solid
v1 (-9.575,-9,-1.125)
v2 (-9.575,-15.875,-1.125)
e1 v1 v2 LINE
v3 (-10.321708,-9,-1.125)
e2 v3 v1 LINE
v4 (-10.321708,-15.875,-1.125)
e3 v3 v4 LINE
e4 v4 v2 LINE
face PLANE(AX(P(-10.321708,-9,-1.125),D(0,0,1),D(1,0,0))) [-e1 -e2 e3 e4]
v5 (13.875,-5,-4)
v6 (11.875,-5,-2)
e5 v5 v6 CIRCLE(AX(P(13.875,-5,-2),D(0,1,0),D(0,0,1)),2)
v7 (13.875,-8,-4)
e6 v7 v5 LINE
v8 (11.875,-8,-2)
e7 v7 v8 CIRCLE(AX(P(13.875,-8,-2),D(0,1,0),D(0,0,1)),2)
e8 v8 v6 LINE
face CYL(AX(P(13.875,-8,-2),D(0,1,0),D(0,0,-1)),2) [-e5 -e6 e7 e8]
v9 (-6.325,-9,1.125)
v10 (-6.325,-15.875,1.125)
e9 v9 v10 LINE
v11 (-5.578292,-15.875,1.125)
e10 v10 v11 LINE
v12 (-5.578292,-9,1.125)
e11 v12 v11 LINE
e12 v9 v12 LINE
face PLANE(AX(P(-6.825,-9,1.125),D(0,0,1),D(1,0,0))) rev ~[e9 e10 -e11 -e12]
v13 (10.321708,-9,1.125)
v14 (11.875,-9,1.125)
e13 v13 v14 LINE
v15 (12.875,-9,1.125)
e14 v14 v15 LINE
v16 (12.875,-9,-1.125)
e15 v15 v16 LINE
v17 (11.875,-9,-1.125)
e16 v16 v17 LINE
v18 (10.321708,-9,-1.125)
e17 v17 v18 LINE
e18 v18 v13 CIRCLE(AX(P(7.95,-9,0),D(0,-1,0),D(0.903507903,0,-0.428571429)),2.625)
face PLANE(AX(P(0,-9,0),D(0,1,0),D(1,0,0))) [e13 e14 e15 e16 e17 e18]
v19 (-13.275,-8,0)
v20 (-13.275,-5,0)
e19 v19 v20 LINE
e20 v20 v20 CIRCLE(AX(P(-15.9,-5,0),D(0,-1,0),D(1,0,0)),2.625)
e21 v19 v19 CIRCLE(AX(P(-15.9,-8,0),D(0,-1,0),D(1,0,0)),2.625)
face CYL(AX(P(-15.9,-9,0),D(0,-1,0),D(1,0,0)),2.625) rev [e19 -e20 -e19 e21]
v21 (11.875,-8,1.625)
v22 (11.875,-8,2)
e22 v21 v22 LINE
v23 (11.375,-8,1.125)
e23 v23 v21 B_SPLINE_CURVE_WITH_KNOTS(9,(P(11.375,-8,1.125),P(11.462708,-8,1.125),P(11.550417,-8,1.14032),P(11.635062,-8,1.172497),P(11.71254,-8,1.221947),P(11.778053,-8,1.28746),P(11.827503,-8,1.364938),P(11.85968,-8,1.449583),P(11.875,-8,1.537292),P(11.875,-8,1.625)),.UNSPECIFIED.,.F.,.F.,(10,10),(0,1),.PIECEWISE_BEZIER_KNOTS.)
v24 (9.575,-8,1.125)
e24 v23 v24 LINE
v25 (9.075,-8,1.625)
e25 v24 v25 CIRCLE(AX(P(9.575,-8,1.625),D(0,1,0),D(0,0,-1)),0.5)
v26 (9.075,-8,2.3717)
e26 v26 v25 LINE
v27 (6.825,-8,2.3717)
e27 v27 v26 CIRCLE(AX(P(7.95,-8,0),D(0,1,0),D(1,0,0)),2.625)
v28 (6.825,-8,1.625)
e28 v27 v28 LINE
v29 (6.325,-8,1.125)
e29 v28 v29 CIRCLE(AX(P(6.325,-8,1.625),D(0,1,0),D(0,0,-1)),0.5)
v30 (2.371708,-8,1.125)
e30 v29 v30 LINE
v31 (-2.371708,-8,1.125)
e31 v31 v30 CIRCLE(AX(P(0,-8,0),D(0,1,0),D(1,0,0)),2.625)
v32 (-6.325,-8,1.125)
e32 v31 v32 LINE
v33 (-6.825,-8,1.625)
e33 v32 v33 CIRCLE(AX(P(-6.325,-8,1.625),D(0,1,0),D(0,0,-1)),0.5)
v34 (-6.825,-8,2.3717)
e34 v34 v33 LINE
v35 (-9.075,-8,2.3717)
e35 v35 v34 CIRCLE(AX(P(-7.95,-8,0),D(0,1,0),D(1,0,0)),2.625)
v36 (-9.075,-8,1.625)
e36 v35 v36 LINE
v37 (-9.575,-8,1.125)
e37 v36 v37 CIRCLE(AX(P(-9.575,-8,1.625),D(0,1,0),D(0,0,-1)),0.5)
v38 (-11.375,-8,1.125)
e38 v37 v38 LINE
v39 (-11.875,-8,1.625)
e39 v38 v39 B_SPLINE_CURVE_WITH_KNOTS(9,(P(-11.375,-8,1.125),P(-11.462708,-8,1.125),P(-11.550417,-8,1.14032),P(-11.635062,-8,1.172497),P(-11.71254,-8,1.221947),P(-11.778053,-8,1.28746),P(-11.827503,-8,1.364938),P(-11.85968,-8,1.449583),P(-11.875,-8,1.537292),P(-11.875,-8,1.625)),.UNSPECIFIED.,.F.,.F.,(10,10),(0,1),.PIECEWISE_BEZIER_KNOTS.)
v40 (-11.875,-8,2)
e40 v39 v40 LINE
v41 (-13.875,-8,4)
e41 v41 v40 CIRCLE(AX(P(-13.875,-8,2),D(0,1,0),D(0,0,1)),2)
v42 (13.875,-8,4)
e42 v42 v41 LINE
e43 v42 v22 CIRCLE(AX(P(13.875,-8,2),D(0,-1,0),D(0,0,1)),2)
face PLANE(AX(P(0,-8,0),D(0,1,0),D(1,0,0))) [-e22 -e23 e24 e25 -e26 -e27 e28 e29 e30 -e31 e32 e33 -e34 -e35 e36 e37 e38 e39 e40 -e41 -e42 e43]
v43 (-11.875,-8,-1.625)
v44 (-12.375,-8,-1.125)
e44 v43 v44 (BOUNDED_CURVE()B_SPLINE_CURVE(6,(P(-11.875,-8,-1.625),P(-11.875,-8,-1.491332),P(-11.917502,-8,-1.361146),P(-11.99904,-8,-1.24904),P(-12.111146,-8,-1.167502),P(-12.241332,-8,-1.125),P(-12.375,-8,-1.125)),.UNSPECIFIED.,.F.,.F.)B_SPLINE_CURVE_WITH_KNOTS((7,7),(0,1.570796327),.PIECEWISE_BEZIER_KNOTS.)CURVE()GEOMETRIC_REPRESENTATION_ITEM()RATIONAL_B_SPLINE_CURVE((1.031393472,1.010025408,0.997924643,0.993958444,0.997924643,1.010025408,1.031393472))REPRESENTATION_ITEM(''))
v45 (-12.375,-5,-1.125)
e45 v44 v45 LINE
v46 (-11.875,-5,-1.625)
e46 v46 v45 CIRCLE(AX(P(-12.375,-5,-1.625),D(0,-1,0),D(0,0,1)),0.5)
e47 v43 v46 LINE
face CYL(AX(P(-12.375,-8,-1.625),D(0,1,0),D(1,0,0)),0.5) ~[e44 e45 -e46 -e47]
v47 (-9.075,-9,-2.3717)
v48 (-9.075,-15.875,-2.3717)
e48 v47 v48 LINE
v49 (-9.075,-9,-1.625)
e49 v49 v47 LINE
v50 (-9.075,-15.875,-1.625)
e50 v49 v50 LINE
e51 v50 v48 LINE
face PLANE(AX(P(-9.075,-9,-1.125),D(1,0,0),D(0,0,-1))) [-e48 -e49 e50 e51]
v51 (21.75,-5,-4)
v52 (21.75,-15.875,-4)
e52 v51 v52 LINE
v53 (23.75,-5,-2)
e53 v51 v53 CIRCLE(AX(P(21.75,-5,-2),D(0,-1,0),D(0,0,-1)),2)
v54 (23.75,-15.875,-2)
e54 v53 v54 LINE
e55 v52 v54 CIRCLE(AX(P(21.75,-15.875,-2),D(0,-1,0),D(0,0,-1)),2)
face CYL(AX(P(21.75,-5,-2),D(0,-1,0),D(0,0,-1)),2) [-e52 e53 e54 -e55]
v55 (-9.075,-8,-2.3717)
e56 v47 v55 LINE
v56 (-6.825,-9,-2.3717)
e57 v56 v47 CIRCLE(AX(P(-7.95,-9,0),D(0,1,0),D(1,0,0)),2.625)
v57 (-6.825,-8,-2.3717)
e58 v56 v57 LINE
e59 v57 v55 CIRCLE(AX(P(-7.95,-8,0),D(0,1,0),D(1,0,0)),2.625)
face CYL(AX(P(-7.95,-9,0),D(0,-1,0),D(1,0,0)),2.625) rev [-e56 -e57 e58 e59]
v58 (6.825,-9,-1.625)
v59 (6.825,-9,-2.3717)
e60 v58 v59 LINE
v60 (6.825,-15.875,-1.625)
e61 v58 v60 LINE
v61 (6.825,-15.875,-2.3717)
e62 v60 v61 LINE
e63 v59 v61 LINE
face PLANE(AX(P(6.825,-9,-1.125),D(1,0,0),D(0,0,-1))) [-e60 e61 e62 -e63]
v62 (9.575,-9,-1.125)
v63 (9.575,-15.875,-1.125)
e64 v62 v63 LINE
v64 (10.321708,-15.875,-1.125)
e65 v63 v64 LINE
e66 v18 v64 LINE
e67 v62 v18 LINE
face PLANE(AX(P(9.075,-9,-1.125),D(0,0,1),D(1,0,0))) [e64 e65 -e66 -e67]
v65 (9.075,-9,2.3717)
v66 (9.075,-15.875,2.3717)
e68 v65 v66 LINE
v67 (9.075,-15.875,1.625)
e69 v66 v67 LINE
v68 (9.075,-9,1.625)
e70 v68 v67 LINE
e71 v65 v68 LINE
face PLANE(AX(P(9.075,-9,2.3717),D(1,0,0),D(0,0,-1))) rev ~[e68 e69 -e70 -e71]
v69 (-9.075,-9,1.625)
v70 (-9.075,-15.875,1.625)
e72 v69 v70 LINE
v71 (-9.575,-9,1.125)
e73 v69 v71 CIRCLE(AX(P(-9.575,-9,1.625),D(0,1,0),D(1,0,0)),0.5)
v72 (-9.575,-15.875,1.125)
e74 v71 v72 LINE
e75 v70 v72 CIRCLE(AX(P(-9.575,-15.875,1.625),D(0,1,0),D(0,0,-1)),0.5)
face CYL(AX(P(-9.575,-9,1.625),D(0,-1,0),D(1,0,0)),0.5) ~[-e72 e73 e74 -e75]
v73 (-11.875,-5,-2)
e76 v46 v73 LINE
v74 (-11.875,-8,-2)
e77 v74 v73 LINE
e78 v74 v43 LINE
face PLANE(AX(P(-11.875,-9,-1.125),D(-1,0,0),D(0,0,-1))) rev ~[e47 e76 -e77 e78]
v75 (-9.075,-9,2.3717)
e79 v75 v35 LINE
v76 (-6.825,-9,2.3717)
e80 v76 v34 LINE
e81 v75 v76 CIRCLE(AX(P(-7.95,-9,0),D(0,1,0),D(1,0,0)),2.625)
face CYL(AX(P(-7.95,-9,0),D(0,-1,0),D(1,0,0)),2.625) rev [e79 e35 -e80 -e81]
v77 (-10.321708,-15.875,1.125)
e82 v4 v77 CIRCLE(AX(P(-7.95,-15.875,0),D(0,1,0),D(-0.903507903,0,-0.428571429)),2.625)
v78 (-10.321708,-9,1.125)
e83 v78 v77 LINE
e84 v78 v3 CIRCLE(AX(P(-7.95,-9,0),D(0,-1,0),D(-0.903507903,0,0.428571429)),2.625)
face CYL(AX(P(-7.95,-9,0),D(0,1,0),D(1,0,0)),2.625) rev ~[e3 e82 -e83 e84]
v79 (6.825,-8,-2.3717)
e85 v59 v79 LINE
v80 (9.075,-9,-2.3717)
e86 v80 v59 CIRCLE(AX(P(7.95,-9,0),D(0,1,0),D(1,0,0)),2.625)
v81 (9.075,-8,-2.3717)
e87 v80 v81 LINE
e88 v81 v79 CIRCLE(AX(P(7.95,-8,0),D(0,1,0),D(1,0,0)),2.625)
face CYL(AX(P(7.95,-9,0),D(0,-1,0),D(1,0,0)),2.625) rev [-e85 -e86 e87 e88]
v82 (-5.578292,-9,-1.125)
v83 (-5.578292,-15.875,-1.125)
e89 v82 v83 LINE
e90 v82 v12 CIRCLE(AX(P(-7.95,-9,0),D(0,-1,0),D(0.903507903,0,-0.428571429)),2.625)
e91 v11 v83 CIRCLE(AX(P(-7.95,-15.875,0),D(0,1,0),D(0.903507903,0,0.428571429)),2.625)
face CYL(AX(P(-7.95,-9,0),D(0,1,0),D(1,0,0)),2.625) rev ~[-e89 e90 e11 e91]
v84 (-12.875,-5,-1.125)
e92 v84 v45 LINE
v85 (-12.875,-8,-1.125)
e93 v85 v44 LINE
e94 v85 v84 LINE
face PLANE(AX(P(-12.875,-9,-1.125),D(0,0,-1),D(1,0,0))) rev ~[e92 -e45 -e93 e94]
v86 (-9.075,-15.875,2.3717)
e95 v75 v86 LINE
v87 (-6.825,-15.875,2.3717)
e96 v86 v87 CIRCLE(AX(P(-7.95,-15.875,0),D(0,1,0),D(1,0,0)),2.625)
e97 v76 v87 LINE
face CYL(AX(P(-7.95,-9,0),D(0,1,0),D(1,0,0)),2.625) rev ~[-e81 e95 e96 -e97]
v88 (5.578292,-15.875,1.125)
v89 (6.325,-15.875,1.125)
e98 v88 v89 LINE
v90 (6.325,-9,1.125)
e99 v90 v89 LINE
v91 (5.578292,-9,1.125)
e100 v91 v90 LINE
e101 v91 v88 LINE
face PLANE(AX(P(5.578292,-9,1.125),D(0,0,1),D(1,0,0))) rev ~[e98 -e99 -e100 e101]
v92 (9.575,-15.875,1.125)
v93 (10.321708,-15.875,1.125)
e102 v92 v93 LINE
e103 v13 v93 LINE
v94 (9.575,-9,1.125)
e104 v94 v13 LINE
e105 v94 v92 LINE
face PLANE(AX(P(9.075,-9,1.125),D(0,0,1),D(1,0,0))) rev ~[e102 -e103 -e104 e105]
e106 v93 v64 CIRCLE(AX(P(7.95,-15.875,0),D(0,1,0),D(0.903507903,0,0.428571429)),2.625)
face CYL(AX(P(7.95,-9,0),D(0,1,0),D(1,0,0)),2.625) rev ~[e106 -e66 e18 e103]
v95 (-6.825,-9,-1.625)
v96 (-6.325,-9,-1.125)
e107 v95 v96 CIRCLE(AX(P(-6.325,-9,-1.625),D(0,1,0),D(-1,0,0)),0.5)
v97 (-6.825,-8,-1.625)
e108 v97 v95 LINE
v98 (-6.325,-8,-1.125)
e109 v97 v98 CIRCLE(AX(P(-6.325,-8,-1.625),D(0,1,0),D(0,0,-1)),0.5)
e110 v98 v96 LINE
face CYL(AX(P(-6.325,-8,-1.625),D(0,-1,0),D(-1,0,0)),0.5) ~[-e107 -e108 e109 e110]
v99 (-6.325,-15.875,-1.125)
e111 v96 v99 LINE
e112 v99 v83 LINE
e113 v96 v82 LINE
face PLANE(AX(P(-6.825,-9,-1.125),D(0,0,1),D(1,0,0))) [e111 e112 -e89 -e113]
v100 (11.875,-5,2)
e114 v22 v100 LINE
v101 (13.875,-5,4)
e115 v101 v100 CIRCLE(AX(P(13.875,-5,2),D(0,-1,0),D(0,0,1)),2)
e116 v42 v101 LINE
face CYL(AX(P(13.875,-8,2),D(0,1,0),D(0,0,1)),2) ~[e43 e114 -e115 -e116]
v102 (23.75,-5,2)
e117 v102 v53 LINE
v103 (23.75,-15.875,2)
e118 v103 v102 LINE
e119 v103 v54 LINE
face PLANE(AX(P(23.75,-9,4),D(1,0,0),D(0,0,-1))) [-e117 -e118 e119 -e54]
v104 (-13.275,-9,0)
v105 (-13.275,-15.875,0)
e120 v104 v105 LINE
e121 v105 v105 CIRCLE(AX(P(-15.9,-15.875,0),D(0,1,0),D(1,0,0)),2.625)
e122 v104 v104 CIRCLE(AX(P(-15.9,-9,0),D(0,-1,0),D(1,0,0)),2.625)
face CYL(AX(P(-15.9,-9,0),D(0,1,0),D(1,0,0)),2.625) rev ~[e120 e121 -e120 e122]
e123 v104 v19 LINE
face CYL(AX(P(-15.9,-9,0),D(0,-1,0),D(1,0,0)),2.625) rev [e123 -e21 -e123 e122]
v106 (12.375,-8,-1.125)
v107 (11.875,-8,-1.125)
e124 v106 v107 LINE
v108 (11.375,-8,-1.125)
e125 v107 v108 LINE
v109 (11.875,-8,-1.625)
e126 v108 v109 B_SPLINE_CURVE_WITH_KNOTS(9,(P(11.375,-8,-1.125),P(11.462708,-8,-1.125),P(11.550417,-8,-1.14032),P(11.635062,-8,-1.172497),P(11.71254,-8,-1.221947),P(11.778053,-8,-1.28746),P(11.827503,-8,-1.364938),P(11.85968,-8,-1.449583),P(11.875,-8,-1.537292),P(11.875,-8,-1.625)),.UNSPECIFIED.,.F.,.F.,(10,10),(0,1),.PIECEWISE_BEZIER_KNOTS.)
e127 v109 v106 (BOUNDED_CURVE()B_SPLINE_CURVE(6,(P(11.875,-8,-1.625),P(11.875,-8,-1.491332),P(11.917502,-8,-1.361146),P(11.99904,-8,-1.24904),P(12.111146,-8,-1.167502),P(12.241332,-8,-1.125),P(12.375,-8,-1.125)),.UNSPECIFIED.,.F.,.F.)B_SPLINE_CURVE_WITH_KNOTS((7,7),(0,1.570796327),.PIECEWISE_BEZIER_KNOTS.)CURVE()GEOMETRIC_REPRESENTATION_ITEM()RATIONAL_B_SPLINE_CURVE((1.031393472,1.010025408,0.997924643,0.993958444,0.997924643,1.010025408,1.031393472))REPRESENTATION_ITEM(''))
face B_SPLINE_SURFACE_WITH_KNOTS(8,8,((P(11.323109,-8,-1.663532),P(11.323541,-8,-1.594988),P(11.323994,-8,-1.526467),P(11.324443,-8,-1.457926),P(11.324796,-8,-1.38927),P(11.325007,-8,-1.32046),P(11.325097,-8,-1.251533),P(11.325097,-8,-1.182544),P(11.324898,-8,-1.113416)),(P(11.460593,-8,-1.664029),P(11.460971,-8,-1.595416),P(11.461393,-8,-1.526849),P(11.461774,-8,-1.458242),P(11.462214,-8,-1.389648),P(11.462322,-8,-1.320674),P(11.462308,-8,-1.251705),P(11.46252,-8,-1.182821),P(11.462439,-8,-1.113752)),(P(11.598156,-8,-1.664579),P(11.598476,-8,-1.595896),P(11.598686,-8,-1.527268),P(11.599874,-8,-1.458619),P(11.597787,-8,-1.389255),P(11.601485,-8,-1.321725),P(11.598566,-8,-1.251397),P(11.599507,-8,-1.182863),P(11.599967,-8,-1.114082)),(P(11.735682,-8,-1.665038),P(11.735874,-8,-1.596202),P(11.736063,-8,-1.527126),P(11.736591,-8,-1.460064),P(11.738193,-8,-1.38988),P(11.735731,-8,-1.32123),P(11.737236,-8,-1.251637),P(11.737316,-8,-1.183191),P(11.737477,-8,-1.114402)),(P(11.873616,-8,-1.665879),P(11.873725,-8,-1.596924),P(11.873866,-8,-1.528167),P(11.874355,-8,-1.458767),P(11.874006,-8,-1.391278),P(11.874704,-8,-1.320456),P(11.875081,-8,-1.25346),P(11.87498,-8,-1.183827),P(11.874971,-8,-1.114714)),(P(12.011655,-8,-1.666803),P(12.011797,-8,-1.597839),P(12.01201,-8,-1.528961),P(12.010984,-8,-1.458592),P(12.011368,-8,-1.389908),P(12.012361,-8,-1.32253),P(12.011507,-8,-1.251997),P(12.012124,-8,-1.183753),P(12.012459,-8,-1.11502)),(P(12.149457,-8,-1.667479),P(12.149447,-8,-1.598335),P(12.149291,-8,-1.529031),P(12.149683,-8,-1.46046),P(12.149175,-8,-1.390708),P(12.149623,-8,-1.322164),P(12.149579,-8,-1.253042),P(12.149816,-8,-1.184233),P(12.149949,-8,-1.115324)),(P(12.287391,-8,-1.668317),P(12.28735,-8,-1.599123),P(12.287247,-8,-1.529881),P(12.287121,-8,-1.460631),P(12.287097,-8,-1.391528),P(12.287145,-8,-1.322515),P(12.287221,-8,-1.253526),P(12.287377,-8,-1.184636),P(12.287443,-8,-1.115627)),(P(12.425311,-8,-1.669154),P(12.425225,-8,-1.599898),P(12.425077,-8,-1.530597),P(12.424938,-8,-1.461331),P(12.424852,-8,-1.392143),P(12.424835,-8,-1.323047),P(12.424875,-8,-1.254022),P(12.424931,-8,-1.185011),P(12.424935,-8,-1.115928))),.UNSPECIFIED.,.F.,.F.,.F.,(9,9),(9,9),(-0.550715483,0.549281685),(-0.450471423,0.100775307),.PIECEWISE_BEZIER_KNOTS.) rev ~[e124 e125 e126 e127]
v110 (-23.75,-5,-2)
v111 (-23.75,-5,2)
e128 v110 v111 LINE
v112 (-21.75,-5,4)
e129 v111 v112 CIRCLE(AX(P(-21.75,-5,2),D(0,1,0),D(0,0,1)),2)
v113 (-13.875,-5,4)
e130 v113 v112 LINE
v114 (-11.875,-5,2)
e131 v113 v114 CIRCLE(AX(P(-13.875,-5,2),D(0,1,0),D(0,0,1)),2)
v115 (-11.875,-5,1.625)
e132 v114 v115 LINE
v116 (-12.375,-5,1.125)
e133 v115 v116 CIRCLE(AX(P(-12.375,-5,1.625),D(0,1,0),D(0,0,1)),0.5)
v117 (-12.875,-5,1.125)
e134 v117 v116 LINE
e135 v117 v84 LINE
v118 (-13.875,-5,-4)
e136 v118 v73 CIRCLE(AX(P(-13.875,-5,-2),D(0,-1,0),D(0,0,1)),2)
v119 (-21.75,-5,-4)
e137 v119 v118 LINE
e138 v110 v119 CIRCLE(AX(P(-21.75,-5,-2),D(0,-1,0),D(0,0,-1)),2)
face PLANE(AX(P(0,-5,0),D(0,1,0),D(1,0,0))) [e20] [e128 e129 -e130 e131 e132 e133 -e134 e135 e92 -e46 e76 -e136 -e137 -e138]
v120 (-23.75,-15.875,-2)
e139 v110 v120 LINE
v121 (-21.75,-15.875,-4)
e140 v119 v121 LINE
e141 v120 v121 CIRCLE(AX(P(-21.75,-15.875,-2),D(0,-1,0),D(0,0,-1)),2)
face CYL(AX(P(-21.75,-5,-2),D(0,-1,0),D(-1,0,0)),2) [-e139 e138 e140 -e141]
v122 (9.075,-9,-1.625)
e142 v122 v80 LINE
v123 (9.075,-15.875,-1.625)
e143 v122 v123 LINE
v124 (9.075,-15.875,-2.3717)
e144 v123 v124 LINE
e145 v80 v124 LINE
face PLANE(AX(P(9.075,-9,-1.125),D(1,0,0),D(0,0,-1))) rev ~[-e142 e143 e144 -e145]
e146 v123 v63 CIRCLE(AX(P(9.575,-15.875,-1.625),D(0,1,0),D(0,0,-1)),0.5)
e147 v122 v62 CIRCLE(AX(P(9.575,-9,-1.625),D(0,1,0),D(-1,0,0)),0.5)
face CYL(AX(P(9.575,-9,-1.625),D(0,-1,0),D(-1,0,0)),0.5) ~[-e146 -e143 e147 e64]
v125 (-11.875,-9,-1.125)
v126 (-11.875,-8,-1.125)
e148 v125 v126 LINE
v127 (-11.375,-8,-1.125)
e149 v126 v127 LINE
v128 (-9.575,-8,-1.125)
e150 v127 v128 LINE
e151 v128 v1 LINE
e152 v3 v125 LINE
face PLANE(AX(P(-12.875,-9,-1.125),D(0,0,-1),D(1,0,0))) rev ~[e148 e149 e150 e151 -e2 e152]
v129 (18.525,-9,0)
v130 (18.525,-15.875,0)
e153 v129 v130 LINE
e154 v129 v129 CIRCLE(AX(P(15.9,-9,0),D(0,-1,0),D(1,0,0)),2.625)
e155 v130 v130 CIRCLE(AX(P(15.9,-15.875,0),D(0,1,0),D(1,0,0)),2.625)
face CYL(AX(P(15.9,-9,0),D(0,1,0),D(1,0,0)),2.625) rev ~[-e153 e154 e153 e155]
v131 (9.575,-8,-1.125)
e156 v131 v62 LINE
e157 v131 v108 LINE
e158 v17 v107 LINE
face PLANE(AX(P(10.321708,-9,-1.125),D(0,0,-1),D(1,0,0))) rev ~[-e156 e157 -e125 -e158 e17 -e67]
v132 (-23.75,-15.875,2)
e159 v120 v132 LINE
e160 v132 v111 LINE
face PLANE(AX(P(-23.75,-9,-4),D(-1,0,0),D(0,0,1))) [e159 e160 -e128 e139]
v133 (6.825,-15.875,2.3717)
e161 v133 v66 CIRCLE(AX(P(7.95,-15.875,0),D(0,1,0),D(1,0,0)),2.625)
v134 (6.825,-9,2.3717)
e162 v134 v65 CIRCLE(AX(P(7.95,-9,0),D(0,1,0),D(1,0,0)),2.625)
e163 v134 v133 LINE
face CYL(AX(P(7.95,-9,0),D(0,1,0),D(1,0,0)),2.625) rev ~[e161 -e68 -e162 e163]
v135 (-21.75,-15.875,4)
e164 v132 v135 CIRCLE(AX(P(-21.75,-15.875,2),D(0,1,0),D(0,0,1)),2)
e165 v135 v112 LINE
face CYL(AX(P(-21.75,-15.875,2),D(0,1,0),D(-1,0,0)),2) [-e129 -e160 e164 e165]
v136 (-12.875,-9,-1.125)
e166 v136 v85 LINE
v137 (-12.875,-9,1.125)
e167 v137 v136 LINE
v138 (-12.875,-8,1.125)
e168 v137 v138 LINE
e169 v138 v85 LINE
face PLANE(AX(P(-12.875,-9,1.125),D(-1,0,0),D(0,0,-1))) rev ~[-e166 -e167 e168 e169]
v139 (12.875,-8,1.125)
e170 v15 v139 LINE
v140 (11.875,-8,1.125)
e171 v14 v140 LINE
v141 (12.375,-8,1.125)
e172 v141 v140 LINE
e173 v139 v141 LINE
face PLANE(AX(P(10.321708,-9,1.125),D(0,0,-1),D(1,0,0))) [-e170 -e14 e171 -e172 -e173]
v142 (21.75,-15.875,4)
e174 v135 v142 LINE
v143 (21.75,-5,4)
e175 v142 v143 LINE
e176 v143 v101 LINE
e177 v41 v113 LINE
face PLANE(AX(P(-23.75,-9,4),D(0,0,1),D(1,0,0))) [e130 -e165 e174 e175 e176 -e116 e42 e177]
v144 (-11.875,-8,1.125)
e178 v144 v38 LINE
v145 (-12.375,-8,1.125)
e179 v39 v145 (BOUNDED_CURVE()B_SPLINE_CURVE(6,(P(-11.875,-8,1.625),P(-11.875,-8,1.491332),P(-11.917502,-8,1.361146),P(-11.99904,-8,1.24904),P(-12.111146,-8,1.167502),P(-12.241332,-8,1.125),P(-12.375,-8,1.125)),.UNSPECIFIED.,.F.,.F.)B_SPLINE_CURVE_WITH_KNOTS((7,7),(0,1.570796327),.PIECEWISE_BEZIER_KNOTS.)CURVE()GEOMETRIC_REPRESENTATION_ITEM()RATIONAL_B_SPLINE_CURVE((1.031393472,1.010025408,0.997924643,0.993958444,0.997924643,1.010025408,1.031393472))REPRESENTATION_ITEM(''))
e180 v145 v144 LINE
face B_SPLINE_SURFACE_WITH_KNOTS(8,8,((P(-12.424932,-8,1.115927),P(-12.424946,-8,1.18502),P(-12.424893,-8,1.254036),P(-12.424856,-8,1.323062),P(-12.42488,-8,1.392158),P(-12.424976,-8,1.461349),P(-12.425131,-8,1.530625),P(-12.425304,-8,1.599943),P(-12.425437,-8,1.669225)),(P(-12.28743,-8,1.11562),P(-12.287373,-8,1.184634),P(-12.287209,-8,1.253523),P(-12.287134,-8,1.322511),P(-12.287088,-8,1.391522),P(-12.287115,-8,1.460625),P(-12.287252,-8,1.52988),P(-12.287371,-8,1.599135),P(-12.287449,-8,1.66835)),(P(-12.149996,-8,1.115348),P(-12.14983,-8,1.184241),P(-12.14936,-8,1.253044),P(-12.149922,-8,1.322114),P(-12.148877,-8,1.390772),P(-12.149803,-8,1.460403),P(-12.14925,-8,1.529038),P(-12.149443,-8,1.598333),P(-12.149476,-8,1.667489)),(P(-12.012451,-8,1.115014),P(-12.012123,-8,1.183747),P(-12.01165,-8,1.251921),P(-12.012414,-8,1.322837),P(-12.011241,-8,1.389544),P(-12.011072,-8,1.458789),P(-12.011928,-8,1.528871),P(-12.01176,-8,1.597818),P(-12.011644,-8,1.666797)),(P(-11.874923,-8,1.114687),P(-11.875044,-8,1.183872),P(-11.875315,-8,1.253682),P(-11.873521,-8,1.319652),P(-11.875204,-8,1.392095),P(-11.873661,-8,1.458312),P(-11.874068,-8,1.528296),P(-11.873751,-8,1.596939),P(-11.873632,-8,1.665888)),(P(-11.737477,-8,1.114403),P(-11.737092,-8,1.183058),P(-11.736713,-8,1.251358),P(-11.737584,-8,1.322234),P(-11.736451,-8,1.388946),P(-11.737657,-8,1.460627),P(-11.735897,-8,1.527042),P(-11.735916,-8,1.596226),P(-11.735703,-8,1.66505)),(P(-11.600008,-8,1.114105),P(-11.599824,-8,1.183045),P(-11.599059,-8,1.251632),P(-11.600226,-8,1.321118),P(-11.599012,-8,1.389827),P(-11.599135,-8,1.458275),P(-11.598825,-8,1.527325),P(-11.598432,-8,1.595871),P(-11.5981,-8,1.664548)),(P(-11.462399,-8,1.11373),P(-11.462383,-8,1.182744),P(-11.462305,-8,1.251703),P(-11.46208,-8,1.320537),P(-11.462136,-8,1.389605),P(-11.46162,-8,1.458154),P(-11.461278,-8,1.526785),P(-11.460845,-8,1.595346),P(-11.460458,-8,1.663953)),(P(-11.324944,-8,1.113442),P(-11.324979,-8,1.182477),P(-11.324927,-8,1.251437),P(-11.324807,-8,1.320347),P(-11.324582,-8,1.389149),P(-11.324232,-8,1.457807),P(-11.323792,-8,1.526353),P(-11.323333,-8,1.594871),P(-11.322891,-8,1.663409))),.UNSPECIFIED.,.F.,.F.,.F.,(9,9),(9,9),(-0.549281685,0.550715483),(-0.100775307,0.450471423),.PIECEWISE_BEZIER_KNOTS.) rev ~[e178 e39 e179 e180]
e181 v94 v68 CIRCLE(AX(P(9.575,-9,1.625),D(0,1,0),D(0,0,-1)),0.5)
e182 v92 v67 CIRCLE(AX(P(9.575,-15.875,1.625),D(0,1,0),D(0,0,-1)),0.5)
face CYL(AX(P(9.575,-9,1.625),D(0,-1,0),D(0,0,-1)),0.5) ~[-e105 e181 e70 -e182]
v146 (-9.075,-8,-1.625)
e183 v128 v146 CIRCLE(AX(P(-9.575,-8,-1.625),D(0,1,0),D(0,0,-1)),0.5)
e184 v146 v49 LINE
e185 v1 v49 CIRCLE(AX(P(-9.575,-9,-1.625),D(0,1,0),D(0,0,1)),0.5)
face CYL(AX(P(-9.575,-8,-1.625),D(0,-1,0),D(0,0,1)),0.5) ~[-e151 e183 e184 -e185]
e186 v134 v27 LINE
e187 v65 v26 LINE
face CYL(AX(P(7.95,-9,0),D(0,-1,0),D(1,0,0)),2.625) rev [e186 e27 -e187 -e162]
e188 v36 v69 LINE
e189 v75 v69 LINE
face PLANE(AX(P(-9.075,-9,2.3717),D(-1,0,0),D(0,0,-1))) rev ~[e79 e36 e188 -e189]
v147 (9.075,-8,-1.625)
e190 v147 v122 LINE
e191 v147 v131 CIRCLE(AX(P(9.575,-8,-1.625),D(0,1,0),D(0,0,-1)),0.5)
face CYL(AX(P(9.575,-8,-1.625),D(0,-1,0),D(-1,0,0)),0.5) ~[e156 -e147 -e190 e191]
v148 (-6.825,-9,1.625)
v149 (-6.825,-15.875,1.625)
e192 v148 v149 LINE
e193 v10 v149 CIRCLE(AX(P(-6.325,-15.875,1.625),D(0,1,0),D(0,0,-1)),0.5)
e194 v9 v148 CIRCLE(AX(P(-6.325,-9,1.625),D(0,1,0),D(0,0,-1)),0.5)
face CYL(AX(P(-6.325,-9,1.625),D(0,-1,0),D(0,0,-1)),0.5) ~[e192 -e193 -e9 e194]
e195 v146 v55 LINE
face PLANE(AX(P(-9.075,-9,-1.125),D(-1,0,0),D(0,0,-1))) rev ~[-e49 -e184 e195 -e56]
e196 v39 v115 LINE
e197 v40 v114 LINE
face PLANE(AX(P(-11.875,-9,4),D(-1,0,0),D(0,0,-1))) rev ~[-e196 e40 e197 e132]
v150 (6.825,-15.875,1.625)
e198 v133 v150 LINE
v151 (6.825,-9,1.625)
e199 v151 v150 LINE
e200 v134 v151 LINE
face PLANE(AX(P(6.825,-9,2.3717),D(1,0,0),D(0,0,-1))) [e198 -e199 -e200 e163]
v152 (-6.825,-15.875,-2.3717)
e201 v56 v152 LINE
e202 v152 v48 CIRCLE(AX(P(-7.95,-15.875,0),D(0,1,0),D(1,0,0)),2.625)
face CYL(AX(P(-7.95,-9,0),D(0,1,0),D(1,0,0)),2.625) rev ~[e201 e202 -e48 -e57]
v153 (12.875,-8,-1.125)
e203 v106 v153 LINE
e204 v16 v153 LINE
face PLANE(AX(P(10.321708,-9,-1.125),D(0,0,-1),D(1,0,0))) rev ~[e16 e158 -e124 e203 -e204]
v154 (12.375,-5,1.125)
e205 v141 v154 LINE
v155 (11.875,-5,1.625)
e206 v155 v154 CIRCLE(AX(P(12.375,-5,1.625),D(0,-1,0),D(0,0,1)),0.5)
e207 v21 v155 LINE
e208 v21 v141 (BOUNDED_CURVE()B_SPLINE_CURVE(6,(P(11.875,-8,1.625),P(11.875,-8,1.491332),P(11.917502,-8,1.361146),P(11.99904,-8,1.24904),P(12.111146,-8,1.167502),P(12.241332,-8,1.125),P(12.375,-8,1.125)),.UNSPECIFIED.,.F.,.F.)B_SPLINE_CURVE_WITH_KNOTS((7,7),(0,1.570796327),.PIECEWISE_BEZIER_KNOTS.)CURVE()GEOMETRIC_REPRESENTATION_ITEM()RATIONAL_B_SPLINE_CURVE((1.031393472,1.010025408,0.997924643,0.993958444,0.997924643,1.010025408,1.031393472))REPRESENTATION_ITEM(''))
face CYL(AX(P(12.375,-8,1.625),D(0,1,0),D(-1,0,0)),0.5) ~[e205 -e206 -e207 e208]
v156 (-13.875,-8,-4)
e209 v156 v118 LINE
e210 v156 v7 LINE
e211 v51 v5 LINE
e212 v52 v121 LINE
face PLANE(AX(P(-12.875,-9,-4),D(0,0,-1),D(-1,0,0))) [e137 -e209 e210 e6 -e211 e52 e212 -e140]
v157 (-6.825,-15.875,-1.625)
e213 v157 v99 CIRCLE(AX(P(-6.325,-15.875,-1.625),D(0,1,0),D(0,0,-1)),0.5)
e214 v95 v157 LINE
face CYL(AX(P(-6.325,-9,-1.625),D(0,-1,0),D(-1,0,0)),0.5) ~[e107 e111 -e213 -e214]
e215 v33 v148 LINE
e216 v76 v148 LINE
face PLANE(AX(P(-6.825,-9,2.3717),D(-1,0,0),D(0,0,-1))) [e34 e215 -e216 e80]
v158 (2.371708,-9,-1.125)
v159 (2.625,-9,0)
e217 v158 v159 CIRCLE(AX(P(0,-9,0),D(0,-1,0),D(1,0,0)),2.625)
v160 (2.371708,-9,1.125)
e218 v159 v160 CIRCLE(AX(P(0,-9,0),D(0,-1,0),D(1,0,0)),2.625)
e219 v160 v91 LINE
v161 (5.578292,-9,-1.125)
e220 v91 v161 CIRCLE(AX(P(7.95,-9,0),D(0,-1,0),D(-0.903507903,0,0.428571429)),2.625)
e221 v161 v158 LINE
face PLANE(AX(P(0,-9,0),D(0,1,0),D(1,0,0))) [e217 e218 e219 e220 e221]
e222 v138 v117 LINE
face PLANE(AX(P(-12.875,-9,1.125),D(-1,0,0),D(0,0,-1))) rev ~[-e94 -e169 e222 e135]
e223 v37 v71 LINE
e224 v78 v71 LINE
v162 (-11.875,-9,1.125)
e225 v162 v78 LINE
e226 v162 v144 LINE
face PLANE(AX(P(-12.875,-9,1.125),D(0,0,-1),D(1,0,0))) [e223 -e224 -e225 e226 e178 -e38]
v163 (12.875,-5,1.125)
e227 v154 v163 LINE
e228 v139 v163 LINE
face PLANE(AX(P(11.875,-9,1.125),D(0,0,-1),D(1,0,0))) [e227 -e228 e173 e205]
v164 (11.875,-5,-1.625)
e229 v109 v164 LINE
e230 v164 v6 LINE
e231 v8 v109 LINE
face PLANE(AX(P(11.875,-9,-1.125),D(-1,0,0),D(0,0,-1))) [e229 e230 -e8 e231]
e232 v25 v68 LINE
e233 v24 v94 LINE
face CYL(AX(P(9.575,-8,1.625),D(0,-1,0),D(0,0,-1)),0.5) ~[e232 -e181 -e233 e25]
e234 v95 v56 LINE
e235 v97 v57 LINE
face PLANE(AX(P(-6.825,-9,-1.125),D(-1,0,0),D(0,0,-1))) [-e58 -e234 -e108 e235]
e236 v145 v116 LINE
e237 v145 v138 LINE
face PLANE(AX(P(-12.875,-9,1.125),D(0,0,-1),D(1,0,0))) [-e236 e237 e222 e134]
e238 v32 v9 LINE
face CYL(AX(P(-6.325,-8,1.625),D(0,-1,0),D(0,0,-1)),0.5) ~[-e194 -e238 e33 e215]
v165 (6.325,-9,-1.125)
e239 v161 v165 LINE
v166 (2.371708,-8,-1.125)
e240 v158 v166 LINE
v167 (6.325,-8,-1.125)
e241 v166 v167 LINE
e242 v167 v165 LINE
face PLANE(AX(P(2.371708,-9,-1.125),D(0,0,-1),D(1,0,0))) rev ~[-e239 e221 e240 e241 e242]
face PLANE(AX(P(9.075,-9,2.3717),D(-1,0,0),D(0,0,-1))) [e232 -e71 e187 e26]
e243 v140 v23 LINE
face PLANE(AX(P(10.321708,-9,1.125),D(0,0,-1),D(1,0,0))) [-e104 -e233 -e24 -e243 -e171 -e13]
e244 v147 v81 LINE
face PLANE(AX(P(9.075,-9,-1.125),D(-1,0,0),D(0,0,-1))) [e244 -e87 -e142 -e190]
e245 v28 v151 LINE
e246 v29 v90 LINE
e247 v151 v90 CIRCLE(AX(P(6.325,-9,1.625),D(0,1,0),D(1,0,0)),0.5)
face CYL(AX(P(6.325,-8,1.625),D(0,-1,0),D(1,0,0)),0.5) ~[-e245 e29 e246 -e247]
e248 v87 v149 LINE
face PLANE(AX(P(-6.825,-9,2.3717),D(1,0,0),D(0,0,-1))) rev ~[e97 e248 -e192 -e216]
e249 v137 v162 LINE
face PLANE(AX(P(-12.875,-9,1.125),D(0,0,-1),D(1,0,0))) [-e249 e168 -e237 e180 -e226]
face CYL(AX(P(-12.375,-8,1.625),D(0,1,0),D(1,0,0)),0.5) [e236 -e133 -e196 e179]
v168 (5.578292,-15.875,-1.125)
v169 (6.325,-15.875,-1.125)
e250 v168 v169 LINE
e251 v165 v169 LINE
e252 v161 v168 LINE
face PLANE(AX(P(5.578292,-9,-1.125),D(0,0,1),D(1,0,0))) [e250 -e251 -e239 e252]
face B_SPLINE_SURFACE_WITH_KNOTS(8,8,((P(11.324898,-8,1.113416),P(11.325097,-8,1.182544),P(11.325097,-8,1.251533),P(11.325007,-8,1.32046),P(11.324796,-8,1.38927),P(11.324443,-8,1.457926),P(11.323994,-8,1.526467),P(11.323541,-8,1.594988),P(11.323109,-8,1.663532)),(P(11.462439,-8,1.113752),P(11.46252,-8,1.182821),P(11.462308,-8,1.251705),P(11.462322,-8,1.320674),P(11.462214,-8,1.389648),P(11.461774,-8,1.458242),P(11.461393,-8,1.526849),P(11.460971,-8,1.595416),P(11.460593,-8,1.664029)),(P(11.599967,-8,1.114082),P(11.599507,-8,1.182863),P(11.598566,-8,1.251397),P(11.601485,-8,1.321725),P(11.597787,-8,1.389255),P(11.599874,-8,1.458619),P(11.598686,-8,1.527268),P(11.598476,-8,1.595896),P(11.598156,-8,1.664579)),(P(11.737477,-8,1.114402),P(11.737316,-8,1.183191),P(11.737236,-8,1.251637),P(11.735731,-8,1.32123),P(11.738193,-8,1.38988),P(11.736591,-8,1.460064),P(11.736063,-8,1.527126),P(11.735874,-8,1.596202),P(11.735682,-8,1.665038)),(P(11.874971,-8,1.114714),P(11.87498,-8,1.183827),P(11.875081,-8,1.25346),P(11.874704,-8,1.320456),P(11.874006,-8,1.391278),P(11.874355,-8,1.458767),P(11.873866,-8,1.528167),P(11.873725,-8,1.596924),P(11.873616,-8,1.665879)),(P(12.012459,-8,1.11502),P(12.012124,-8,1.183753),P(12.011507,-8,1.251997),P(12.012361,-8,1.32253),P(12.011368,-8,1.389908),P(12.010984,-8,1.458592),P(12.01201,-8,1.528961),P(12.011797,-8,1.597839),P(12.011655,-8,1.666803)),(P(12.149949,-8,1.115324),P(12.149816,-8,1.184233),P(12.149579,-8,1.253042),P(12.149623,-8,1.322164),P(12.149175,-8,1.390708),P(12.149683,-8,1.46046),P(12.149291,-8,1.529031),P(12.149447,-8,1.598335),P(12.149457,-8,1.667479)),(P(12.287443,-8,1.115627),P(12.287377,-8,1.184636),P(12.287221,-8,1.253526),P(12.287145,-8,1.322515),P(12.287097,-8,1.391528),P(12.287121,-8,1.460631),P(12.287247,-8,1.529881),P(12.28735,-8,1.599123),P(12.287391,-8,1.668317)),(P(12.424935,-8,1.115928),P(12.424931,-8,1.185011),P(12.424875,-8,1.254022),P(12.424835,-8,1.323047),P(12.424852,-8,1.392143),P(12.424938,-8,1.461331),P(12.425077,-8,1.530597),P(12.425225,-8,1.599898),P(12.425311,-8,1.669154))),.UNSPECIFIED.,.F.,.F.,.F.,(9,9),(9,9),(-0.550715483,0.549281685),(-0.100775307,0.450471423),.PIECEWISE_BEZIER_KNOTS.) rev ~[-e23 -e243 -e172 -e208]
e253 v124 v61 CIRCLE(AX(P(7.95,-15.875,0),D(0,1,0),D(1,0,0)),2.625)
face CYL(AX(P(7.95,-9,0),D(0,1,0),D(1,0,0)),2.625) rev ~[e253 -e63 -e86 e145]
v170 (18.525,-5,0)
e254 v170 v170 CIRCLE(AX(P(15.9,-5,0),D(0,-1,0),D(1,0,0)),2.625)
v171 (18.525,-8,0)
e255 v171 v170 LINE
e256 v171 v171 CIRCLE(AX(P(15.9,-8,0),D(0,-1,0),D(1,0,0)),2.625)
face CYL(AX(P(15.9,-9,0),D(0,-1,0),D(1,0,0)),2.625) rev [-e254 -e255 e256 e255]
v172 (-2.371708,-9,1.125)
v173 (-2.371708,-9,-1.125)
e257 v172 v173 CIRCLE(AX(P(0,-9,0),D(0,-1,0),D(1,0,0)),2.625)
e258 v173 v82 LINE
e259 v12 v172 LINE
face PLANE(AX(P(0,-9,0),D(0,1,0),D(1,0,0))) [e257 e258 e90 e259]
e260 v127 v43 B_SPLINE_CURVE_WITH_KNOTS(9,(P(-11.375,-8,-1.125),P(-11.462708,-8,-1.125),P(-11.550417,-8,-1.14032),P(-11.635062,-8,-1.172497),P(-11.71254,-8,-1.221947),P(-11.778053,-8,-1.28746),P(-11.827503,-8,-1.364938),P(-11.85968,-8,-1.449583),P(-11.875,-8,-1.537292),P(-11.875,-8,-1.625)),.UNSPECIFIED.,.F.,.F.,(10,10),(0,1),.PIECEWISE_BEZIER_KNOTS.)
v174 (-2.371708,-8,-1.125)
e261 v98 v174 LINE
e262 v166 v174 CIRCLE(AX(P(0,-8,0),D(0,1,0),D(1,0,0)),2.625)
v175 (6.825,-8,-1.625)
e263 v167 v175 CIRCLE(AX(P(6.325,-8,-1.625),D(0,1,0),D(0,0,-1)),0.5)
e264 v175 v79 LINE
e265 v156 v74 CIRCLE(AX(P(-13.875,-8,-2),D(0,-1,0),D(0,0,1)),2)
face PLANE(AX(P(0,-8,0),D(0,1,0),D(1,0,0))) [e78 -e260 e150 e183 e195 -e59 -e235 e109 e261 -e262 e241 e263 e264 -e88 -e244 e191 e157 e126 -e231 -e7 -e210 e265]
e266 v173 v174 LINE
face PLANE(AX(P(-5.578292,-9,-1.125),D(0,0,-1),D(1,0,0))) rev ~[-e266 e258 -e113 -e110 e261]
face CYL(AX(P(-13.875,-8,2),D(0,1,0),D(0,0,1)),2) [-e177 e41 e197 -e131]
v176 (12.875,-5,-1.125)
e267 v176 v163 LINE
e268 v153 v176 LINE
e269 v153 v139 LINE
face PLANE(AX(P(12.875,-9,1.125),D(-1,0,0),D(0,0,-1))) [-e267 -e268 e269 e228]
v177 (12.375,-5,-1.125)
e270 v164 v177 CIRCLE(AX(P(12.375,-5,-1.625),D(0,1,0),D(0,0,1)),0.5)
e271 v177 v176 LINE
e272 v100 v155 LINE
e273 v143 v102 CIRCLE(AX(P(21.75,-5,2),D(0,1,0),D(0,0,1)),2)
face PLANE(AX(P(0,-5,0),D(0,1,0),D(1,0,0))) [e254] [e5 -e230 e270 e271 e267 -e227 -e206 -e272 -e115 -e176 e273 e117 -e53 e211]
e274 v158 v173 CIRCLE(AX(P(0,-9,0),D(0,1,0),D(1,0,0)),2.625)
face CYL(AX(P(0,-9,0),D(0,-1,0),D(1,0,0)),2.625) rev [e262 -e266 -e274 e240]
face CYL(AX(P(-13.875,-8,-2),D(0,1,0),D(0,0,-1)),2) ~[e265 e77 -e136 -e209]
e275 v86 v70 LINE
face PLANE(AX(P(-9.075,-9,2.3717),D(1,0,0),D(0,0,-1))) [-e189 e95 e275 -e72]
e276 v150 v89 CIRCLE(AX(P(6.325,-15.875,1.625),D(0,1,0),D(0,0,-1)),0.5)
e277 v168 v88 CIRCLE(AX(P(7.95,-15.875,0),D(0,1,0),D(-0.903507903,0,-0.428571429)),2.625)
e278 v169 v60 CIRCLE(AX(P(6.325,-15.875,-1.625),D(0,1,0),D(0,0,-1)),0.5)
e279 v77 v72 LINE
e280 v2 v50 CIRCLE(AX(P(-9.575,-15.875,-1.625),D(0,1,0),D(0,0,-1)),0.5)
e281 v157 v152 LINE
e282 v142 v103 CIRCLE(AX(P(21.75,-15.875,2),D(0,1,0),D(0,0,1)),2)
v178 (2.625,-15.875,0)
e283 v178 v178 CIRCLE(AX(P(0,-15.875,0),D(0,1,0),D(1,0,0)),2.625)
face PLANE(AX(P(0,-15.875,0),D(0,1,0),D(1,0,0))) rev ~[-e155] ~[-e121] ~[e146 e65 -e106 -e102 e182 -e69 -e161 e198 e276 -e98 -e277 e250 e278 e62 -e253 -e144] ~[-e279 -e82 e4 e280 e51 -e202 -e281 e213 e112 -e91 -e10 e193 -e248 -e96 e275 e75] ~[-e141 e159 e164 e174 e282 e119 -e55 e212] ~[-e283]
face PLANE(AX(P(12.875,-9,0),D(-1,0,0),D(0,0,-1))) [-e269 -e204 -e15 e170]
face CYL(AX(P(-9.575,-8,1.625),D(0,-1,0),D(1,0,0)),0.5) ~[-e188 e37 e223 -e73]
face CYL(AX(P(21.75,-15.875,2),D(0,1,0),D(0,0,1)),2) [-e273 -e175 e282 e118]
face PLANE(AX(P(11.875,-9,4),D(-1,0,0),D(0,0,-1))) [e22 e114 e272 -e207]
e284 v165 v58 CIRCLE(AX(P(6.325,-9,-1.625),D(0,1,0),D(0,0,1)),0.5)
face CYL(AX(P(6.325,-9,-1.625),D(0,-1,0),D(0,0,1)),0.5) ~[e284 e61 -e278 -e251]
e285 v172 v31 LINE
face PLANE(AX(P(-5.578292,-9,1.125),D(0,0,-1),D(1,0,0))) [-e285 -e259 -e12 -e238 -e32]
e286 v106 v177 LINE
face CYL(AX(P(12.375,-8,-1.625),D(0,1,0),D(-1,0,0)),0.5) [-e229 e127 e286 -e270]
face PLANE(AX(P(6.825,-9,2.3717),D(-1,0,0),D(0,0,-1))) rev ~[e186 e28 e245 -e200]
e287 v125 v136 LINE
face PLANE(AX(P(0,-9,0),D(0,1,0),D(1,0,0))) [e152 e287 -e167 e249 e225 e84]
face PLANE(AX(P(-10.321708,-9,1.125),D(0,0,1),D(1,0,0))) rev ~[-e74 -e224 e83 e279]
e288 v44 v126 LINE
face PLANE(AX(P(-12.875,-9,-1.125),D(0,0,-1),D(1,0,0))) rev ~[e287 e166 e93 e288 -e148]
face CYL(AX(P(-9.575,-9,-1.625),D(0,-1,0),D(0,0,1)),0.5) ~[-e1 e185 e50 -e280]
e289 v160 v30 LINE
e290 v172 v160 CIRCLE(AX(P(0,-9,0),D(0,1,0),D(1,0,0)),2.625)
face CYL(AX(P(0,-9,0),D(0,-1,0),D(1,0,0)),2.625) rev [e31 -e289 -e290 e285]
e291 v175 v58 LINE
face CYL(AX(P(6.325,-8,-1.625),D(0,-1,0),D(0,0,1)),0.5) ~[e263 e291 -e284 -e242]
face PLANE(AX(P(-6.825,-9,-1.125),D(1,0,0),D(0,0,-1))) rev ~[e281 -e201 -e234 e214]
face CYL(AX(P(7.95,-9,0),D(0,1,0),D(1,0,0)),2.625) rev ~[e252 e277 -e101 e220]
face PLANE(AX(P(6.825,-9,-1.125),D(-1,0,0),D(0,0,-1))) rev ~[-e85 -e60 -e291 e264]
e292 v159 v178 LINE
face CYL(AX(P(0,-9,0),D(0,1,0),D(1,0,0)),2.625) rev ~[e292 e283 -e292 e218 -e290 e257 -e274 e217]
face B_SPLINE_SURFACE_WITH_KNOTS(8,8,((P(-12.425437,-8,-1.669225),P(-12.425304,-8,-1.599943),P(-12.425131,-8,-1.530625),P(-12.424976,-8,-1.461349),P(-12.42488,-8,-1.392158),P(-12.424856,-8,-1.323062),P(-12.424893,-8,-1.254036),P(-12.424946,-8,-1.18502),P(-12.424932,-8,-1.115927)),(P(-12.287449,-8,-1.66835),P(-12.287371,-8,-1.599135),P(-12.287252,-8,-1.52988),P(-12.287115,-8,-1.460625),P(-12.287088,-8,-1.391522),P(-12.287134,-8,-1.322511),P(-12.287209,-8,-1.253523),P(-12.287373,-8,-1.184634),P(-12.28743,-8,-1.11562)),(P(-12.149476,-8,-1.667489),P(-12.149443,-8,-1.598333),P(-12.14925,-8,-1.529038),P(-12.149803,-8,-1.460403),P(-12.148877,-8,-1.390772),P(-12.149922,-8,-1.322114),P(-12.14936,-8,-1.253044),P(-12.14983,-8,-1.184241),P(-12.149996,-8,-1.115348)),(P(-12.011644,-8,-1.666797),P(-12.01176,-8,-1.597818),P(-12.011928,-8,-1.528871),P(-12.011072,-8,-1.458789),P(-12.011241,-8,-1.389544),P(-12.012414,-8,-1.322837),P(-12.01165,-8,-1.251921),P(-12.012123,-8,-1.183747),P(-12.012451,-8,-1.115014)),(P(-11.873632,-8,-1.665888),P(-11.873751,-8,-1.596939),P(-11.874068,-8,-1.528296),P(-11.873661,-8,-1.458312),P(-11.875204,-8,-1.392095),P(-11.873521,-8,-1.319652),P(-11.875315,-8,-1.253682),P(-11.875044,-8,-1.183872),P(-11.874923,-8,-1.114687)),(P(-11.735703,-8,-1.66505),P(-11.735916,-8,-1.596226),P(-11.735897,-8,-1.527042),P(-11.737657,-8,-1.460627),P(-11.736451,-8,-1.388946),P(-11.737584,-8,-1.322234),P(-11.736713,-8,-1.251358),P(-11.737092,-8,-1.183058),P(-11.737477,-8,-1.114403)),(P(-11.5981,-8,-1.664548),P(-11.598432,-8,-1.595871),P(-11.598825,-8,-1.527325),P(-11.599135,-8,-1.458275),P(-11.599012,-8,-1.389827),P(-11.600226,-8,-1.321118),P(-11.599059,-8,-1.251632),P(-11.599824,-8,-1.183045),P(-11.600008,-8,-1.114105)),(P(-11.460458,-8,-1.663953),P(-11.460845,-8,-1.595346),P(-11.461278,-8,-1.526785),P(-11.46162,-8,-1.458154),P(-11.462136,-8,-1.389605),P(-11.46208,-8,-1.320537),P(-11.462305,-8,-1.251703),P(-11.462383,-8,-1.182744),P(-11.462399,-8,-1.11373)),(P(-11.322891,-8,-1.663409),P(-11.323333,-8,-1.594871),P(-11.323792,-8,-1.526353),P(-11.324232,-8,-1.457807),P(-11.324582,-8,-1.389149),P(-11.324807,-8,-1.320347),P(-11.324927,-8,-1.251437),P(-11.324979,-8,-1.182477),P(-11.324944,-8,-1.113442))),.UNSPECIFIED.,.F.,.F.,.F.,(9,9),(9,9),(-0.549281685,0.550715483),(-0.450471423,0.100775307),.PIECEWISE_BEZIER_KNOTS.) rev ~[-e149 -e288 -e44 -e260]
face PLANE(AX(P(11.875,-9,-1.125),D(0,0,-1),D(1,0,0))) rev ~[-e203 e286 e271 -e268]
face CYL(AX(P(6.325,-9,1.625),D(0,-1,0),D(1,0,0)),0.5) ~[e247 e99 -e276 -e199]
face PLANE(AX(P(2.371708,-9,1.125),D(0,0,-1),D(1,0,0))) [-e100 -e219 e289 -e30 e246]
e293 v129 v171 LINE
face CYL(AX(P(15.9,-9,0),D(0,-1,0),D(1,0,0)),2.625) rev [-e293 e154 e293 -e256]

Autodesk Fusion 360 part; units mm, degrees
sketch "Sketch1" plane through (0, 0, 0) normal (0, 0, 1) x (1, 0, 0)
  line L0 (-12.825, 8.875) -> (12.825, 8.875) construction
  line L1 (12.825, 8.875) -> (12.825, -8.875) construction
  line L2 (12.825, -8.875) -> (-12.825, -8.875) construction
  line L3 (-12.825, -8.875) -> (-12.825, 8.875) construction
  line L4 (0, 1.75) -> (0, 22.5) construction
  line L5 (1.75, 0) -> (22.5, 0) construction
  point P0 (0, 8.875)
  point P1 (12.825, 0)
  dimension "d1" = 25.65
  dimension "d2" = 17.75
ref_plane "WorkPlane1" through (0, -9, 0) normal (0, 1, 0) x (0, 0, 1)
sketch "Sketch2" plane through (0, -9, 0) normal (0, 1, 0) x (1, 0, 0)
  line L0 (-23.75, -4) -> (23.75, -4)
  line L1 (23.75, -4) -> (23.75, 4)
  line L2 (23.75, 4) -> (-23.75, 4)
  line L3 (-23.75, 4) -> (-23.75, -4)
  line L4 (0, -1.75) -> (0, -22.5) construction
  line L5 (1.75, 0) -> (22.5, 0)
  circle A0 centre (0, 0) radius 2.625
  circle A1 centre (7.95, 0) radius 2.625
  circle A2 centre (15.9, 0) radius 2.625
  circle A3 centre (-7.95, 0) radius 2.625
  circle A4 centre (-15.9, 0) radius 2.625
  line L6 (0, 0) -> (7.95, 0) construction
  line L7 (7.95, 0) -> (15.9, 0) construction
  line L8 (-12.875, -4) -> (-12.875, 4)
  line L9 (12.875, -4) -> (12.875, 4)
  line L10 (12.825, 0) -> (-12.825, 0)
  line L11 (-13.5283, 1.125) -> (13.5283, 1.125)
  line L12 (-13.5283, -1.125) -> (13.5283, -1.125)
  line L13 (-6.825, -2.3717) -> (-6.825, 2.3717)
  line L14 (-9.075, -2.3717) -> (-9.075, 2.3717)
  line L15 (-5.5783, -1.125) -> (-5.5783, 1.125) construction
  line L16 (-6.825, -2.3717) -> (-9.075, -2.3717) construction
  line L17 (9.075, -2.3717) -> (9.075, 2.3717)
  line L18 (6.825, -2.3717) -> (6.825, 2.3717)
  line L19 (9.075, -2.3717) -> (6.825, -2.3717) construction
  line L20 (11.875, -4) -> (11.875, 4)
  line L21 (-11.875, -4) -> (-11.875, 4)
  point P0 (0, -4)
  point P1 (23.75, 0)
  dimension "d3" = 47.5
  dimension "d4" = 8
  dimension "d5" = 5.25
  dimension "d6" = 7.95
  dimension "d7" = 25.75
  dimension "d10" = 2.25
  dimension "d24" = 1
extrude "Extrude1" add sketch "Sketch2" against normal blind 6.875 contours L0 L2 L3 A4 L8 L11 L12 | L0 L8 L12 L21 | L0 A0 A1 A3 L12 L20 L21 | A4 L8 L11 L12 | L8 L11 L12 L21 | L2 L8 L11 L21 | L0 L9 L12 L20 | A3 L10 L12 L21 | L2 A0 A1 A3 L11 L20 L21 | L0 L1 L2 A2 L9 L11 L12 | L5 L9 L10 L12 L20 | L5 A1 L10 L12 L20 | A3 L12 L14 | A3 L10 L11 L21 | L2 L9 L11 L20 | L5 A2 L9 L12 | A1 L12 L17 | L5 L9 L10 L11 L20 | L5 A1 L10 L11 L20 | A3 L11 L14 | L5 A2 L9 L11 | A3 L12 L13 | A1 L11 L17 | A1 L12 L18 | A0 A3 L10 L12 | A3 L11 L13 | L5 A0 A1 L10 L12 | A0 A3 L10 L11 | A1 L11 L18 | L5 A0 A1 L10 L11
extrude "Extrude2" add sketch "Sketch2" along normal blind 1 contours L0 L2 L3 A4 L8 L11 L12 | L0 L8 L12 L21 | L0 A0 A1 A3 L12 L20 L21 | A4 L8 L11 L12 | L2 L8 L11 L21 | L0 L9 L12 L20 | L2 A0 A1 A3 L11 L20 L21 | L0 L1 L2 A2 L9 L11 L12 | A3 L12 L14 | L2 L9 L11 L20 | L5 A2 L9 L12 | A1 L12 L17 | A3 L11 L14 | L5 A2 L9 L11 | A3 L12 L13 | A1 L11 L17 | A1 L12 L18 | A3 L11 L13 | A1 L11 L18
extrude "Extrude3" add sketch "Sketch2" along normal blind 4 contours L0 L2 L3 A4 L8 L11 L12 | L0 L8 L12 L21 | A4 L8 L11 L12 | L2 L8 L11 L21 | L0 L9 L12 L20 | L0 L1 L2 A2 L9 L11 L12 | L2 L9 L11 L20 | L5 A2 L9 L12 | L5 A2 L9 L11
fillet "Fillet1" radius 2 4 edges at (23.75, -10.4375, 4) (23.75, -10.4375, -4) (-23.75, -10.4375, 4) (-23.75, -10.4375, -4)
fillet "Fillet1" radius 0.5 8 edges at (9.075, -11.9375, 1.125) (6.825, -11.9375, 1.125) (-6.825, -11.9375, 1.125) (-9.075, -11.9375, 1.125) (9.075, -11.9375, -1.125) (6.825, -11.9375, -1.125) (-6.825, -11.9375, -1.125) (-9.075, -11.9375, -1.125)
fillet "Fillet1" radius 2 4 edges at (11.875, -6.5, 4) (11.875, -6.5, -4) (-11.875, -6.5, 4) (-11.875, -6.5, -4)
fillet "Fillet1" radius 0.5 4 edges at (11.875, -6.5, 1.125) (11.875, -6.5, -1.125) (-11.875, -6.5, -1.125) (-11.875, -6.5, 1.125)
equation "d11 = ( -18 / 2 ) * 1 mm"
equation "d12 = ( ( 31.50 - 17.75 ) / 2 ) * -1 mm"
